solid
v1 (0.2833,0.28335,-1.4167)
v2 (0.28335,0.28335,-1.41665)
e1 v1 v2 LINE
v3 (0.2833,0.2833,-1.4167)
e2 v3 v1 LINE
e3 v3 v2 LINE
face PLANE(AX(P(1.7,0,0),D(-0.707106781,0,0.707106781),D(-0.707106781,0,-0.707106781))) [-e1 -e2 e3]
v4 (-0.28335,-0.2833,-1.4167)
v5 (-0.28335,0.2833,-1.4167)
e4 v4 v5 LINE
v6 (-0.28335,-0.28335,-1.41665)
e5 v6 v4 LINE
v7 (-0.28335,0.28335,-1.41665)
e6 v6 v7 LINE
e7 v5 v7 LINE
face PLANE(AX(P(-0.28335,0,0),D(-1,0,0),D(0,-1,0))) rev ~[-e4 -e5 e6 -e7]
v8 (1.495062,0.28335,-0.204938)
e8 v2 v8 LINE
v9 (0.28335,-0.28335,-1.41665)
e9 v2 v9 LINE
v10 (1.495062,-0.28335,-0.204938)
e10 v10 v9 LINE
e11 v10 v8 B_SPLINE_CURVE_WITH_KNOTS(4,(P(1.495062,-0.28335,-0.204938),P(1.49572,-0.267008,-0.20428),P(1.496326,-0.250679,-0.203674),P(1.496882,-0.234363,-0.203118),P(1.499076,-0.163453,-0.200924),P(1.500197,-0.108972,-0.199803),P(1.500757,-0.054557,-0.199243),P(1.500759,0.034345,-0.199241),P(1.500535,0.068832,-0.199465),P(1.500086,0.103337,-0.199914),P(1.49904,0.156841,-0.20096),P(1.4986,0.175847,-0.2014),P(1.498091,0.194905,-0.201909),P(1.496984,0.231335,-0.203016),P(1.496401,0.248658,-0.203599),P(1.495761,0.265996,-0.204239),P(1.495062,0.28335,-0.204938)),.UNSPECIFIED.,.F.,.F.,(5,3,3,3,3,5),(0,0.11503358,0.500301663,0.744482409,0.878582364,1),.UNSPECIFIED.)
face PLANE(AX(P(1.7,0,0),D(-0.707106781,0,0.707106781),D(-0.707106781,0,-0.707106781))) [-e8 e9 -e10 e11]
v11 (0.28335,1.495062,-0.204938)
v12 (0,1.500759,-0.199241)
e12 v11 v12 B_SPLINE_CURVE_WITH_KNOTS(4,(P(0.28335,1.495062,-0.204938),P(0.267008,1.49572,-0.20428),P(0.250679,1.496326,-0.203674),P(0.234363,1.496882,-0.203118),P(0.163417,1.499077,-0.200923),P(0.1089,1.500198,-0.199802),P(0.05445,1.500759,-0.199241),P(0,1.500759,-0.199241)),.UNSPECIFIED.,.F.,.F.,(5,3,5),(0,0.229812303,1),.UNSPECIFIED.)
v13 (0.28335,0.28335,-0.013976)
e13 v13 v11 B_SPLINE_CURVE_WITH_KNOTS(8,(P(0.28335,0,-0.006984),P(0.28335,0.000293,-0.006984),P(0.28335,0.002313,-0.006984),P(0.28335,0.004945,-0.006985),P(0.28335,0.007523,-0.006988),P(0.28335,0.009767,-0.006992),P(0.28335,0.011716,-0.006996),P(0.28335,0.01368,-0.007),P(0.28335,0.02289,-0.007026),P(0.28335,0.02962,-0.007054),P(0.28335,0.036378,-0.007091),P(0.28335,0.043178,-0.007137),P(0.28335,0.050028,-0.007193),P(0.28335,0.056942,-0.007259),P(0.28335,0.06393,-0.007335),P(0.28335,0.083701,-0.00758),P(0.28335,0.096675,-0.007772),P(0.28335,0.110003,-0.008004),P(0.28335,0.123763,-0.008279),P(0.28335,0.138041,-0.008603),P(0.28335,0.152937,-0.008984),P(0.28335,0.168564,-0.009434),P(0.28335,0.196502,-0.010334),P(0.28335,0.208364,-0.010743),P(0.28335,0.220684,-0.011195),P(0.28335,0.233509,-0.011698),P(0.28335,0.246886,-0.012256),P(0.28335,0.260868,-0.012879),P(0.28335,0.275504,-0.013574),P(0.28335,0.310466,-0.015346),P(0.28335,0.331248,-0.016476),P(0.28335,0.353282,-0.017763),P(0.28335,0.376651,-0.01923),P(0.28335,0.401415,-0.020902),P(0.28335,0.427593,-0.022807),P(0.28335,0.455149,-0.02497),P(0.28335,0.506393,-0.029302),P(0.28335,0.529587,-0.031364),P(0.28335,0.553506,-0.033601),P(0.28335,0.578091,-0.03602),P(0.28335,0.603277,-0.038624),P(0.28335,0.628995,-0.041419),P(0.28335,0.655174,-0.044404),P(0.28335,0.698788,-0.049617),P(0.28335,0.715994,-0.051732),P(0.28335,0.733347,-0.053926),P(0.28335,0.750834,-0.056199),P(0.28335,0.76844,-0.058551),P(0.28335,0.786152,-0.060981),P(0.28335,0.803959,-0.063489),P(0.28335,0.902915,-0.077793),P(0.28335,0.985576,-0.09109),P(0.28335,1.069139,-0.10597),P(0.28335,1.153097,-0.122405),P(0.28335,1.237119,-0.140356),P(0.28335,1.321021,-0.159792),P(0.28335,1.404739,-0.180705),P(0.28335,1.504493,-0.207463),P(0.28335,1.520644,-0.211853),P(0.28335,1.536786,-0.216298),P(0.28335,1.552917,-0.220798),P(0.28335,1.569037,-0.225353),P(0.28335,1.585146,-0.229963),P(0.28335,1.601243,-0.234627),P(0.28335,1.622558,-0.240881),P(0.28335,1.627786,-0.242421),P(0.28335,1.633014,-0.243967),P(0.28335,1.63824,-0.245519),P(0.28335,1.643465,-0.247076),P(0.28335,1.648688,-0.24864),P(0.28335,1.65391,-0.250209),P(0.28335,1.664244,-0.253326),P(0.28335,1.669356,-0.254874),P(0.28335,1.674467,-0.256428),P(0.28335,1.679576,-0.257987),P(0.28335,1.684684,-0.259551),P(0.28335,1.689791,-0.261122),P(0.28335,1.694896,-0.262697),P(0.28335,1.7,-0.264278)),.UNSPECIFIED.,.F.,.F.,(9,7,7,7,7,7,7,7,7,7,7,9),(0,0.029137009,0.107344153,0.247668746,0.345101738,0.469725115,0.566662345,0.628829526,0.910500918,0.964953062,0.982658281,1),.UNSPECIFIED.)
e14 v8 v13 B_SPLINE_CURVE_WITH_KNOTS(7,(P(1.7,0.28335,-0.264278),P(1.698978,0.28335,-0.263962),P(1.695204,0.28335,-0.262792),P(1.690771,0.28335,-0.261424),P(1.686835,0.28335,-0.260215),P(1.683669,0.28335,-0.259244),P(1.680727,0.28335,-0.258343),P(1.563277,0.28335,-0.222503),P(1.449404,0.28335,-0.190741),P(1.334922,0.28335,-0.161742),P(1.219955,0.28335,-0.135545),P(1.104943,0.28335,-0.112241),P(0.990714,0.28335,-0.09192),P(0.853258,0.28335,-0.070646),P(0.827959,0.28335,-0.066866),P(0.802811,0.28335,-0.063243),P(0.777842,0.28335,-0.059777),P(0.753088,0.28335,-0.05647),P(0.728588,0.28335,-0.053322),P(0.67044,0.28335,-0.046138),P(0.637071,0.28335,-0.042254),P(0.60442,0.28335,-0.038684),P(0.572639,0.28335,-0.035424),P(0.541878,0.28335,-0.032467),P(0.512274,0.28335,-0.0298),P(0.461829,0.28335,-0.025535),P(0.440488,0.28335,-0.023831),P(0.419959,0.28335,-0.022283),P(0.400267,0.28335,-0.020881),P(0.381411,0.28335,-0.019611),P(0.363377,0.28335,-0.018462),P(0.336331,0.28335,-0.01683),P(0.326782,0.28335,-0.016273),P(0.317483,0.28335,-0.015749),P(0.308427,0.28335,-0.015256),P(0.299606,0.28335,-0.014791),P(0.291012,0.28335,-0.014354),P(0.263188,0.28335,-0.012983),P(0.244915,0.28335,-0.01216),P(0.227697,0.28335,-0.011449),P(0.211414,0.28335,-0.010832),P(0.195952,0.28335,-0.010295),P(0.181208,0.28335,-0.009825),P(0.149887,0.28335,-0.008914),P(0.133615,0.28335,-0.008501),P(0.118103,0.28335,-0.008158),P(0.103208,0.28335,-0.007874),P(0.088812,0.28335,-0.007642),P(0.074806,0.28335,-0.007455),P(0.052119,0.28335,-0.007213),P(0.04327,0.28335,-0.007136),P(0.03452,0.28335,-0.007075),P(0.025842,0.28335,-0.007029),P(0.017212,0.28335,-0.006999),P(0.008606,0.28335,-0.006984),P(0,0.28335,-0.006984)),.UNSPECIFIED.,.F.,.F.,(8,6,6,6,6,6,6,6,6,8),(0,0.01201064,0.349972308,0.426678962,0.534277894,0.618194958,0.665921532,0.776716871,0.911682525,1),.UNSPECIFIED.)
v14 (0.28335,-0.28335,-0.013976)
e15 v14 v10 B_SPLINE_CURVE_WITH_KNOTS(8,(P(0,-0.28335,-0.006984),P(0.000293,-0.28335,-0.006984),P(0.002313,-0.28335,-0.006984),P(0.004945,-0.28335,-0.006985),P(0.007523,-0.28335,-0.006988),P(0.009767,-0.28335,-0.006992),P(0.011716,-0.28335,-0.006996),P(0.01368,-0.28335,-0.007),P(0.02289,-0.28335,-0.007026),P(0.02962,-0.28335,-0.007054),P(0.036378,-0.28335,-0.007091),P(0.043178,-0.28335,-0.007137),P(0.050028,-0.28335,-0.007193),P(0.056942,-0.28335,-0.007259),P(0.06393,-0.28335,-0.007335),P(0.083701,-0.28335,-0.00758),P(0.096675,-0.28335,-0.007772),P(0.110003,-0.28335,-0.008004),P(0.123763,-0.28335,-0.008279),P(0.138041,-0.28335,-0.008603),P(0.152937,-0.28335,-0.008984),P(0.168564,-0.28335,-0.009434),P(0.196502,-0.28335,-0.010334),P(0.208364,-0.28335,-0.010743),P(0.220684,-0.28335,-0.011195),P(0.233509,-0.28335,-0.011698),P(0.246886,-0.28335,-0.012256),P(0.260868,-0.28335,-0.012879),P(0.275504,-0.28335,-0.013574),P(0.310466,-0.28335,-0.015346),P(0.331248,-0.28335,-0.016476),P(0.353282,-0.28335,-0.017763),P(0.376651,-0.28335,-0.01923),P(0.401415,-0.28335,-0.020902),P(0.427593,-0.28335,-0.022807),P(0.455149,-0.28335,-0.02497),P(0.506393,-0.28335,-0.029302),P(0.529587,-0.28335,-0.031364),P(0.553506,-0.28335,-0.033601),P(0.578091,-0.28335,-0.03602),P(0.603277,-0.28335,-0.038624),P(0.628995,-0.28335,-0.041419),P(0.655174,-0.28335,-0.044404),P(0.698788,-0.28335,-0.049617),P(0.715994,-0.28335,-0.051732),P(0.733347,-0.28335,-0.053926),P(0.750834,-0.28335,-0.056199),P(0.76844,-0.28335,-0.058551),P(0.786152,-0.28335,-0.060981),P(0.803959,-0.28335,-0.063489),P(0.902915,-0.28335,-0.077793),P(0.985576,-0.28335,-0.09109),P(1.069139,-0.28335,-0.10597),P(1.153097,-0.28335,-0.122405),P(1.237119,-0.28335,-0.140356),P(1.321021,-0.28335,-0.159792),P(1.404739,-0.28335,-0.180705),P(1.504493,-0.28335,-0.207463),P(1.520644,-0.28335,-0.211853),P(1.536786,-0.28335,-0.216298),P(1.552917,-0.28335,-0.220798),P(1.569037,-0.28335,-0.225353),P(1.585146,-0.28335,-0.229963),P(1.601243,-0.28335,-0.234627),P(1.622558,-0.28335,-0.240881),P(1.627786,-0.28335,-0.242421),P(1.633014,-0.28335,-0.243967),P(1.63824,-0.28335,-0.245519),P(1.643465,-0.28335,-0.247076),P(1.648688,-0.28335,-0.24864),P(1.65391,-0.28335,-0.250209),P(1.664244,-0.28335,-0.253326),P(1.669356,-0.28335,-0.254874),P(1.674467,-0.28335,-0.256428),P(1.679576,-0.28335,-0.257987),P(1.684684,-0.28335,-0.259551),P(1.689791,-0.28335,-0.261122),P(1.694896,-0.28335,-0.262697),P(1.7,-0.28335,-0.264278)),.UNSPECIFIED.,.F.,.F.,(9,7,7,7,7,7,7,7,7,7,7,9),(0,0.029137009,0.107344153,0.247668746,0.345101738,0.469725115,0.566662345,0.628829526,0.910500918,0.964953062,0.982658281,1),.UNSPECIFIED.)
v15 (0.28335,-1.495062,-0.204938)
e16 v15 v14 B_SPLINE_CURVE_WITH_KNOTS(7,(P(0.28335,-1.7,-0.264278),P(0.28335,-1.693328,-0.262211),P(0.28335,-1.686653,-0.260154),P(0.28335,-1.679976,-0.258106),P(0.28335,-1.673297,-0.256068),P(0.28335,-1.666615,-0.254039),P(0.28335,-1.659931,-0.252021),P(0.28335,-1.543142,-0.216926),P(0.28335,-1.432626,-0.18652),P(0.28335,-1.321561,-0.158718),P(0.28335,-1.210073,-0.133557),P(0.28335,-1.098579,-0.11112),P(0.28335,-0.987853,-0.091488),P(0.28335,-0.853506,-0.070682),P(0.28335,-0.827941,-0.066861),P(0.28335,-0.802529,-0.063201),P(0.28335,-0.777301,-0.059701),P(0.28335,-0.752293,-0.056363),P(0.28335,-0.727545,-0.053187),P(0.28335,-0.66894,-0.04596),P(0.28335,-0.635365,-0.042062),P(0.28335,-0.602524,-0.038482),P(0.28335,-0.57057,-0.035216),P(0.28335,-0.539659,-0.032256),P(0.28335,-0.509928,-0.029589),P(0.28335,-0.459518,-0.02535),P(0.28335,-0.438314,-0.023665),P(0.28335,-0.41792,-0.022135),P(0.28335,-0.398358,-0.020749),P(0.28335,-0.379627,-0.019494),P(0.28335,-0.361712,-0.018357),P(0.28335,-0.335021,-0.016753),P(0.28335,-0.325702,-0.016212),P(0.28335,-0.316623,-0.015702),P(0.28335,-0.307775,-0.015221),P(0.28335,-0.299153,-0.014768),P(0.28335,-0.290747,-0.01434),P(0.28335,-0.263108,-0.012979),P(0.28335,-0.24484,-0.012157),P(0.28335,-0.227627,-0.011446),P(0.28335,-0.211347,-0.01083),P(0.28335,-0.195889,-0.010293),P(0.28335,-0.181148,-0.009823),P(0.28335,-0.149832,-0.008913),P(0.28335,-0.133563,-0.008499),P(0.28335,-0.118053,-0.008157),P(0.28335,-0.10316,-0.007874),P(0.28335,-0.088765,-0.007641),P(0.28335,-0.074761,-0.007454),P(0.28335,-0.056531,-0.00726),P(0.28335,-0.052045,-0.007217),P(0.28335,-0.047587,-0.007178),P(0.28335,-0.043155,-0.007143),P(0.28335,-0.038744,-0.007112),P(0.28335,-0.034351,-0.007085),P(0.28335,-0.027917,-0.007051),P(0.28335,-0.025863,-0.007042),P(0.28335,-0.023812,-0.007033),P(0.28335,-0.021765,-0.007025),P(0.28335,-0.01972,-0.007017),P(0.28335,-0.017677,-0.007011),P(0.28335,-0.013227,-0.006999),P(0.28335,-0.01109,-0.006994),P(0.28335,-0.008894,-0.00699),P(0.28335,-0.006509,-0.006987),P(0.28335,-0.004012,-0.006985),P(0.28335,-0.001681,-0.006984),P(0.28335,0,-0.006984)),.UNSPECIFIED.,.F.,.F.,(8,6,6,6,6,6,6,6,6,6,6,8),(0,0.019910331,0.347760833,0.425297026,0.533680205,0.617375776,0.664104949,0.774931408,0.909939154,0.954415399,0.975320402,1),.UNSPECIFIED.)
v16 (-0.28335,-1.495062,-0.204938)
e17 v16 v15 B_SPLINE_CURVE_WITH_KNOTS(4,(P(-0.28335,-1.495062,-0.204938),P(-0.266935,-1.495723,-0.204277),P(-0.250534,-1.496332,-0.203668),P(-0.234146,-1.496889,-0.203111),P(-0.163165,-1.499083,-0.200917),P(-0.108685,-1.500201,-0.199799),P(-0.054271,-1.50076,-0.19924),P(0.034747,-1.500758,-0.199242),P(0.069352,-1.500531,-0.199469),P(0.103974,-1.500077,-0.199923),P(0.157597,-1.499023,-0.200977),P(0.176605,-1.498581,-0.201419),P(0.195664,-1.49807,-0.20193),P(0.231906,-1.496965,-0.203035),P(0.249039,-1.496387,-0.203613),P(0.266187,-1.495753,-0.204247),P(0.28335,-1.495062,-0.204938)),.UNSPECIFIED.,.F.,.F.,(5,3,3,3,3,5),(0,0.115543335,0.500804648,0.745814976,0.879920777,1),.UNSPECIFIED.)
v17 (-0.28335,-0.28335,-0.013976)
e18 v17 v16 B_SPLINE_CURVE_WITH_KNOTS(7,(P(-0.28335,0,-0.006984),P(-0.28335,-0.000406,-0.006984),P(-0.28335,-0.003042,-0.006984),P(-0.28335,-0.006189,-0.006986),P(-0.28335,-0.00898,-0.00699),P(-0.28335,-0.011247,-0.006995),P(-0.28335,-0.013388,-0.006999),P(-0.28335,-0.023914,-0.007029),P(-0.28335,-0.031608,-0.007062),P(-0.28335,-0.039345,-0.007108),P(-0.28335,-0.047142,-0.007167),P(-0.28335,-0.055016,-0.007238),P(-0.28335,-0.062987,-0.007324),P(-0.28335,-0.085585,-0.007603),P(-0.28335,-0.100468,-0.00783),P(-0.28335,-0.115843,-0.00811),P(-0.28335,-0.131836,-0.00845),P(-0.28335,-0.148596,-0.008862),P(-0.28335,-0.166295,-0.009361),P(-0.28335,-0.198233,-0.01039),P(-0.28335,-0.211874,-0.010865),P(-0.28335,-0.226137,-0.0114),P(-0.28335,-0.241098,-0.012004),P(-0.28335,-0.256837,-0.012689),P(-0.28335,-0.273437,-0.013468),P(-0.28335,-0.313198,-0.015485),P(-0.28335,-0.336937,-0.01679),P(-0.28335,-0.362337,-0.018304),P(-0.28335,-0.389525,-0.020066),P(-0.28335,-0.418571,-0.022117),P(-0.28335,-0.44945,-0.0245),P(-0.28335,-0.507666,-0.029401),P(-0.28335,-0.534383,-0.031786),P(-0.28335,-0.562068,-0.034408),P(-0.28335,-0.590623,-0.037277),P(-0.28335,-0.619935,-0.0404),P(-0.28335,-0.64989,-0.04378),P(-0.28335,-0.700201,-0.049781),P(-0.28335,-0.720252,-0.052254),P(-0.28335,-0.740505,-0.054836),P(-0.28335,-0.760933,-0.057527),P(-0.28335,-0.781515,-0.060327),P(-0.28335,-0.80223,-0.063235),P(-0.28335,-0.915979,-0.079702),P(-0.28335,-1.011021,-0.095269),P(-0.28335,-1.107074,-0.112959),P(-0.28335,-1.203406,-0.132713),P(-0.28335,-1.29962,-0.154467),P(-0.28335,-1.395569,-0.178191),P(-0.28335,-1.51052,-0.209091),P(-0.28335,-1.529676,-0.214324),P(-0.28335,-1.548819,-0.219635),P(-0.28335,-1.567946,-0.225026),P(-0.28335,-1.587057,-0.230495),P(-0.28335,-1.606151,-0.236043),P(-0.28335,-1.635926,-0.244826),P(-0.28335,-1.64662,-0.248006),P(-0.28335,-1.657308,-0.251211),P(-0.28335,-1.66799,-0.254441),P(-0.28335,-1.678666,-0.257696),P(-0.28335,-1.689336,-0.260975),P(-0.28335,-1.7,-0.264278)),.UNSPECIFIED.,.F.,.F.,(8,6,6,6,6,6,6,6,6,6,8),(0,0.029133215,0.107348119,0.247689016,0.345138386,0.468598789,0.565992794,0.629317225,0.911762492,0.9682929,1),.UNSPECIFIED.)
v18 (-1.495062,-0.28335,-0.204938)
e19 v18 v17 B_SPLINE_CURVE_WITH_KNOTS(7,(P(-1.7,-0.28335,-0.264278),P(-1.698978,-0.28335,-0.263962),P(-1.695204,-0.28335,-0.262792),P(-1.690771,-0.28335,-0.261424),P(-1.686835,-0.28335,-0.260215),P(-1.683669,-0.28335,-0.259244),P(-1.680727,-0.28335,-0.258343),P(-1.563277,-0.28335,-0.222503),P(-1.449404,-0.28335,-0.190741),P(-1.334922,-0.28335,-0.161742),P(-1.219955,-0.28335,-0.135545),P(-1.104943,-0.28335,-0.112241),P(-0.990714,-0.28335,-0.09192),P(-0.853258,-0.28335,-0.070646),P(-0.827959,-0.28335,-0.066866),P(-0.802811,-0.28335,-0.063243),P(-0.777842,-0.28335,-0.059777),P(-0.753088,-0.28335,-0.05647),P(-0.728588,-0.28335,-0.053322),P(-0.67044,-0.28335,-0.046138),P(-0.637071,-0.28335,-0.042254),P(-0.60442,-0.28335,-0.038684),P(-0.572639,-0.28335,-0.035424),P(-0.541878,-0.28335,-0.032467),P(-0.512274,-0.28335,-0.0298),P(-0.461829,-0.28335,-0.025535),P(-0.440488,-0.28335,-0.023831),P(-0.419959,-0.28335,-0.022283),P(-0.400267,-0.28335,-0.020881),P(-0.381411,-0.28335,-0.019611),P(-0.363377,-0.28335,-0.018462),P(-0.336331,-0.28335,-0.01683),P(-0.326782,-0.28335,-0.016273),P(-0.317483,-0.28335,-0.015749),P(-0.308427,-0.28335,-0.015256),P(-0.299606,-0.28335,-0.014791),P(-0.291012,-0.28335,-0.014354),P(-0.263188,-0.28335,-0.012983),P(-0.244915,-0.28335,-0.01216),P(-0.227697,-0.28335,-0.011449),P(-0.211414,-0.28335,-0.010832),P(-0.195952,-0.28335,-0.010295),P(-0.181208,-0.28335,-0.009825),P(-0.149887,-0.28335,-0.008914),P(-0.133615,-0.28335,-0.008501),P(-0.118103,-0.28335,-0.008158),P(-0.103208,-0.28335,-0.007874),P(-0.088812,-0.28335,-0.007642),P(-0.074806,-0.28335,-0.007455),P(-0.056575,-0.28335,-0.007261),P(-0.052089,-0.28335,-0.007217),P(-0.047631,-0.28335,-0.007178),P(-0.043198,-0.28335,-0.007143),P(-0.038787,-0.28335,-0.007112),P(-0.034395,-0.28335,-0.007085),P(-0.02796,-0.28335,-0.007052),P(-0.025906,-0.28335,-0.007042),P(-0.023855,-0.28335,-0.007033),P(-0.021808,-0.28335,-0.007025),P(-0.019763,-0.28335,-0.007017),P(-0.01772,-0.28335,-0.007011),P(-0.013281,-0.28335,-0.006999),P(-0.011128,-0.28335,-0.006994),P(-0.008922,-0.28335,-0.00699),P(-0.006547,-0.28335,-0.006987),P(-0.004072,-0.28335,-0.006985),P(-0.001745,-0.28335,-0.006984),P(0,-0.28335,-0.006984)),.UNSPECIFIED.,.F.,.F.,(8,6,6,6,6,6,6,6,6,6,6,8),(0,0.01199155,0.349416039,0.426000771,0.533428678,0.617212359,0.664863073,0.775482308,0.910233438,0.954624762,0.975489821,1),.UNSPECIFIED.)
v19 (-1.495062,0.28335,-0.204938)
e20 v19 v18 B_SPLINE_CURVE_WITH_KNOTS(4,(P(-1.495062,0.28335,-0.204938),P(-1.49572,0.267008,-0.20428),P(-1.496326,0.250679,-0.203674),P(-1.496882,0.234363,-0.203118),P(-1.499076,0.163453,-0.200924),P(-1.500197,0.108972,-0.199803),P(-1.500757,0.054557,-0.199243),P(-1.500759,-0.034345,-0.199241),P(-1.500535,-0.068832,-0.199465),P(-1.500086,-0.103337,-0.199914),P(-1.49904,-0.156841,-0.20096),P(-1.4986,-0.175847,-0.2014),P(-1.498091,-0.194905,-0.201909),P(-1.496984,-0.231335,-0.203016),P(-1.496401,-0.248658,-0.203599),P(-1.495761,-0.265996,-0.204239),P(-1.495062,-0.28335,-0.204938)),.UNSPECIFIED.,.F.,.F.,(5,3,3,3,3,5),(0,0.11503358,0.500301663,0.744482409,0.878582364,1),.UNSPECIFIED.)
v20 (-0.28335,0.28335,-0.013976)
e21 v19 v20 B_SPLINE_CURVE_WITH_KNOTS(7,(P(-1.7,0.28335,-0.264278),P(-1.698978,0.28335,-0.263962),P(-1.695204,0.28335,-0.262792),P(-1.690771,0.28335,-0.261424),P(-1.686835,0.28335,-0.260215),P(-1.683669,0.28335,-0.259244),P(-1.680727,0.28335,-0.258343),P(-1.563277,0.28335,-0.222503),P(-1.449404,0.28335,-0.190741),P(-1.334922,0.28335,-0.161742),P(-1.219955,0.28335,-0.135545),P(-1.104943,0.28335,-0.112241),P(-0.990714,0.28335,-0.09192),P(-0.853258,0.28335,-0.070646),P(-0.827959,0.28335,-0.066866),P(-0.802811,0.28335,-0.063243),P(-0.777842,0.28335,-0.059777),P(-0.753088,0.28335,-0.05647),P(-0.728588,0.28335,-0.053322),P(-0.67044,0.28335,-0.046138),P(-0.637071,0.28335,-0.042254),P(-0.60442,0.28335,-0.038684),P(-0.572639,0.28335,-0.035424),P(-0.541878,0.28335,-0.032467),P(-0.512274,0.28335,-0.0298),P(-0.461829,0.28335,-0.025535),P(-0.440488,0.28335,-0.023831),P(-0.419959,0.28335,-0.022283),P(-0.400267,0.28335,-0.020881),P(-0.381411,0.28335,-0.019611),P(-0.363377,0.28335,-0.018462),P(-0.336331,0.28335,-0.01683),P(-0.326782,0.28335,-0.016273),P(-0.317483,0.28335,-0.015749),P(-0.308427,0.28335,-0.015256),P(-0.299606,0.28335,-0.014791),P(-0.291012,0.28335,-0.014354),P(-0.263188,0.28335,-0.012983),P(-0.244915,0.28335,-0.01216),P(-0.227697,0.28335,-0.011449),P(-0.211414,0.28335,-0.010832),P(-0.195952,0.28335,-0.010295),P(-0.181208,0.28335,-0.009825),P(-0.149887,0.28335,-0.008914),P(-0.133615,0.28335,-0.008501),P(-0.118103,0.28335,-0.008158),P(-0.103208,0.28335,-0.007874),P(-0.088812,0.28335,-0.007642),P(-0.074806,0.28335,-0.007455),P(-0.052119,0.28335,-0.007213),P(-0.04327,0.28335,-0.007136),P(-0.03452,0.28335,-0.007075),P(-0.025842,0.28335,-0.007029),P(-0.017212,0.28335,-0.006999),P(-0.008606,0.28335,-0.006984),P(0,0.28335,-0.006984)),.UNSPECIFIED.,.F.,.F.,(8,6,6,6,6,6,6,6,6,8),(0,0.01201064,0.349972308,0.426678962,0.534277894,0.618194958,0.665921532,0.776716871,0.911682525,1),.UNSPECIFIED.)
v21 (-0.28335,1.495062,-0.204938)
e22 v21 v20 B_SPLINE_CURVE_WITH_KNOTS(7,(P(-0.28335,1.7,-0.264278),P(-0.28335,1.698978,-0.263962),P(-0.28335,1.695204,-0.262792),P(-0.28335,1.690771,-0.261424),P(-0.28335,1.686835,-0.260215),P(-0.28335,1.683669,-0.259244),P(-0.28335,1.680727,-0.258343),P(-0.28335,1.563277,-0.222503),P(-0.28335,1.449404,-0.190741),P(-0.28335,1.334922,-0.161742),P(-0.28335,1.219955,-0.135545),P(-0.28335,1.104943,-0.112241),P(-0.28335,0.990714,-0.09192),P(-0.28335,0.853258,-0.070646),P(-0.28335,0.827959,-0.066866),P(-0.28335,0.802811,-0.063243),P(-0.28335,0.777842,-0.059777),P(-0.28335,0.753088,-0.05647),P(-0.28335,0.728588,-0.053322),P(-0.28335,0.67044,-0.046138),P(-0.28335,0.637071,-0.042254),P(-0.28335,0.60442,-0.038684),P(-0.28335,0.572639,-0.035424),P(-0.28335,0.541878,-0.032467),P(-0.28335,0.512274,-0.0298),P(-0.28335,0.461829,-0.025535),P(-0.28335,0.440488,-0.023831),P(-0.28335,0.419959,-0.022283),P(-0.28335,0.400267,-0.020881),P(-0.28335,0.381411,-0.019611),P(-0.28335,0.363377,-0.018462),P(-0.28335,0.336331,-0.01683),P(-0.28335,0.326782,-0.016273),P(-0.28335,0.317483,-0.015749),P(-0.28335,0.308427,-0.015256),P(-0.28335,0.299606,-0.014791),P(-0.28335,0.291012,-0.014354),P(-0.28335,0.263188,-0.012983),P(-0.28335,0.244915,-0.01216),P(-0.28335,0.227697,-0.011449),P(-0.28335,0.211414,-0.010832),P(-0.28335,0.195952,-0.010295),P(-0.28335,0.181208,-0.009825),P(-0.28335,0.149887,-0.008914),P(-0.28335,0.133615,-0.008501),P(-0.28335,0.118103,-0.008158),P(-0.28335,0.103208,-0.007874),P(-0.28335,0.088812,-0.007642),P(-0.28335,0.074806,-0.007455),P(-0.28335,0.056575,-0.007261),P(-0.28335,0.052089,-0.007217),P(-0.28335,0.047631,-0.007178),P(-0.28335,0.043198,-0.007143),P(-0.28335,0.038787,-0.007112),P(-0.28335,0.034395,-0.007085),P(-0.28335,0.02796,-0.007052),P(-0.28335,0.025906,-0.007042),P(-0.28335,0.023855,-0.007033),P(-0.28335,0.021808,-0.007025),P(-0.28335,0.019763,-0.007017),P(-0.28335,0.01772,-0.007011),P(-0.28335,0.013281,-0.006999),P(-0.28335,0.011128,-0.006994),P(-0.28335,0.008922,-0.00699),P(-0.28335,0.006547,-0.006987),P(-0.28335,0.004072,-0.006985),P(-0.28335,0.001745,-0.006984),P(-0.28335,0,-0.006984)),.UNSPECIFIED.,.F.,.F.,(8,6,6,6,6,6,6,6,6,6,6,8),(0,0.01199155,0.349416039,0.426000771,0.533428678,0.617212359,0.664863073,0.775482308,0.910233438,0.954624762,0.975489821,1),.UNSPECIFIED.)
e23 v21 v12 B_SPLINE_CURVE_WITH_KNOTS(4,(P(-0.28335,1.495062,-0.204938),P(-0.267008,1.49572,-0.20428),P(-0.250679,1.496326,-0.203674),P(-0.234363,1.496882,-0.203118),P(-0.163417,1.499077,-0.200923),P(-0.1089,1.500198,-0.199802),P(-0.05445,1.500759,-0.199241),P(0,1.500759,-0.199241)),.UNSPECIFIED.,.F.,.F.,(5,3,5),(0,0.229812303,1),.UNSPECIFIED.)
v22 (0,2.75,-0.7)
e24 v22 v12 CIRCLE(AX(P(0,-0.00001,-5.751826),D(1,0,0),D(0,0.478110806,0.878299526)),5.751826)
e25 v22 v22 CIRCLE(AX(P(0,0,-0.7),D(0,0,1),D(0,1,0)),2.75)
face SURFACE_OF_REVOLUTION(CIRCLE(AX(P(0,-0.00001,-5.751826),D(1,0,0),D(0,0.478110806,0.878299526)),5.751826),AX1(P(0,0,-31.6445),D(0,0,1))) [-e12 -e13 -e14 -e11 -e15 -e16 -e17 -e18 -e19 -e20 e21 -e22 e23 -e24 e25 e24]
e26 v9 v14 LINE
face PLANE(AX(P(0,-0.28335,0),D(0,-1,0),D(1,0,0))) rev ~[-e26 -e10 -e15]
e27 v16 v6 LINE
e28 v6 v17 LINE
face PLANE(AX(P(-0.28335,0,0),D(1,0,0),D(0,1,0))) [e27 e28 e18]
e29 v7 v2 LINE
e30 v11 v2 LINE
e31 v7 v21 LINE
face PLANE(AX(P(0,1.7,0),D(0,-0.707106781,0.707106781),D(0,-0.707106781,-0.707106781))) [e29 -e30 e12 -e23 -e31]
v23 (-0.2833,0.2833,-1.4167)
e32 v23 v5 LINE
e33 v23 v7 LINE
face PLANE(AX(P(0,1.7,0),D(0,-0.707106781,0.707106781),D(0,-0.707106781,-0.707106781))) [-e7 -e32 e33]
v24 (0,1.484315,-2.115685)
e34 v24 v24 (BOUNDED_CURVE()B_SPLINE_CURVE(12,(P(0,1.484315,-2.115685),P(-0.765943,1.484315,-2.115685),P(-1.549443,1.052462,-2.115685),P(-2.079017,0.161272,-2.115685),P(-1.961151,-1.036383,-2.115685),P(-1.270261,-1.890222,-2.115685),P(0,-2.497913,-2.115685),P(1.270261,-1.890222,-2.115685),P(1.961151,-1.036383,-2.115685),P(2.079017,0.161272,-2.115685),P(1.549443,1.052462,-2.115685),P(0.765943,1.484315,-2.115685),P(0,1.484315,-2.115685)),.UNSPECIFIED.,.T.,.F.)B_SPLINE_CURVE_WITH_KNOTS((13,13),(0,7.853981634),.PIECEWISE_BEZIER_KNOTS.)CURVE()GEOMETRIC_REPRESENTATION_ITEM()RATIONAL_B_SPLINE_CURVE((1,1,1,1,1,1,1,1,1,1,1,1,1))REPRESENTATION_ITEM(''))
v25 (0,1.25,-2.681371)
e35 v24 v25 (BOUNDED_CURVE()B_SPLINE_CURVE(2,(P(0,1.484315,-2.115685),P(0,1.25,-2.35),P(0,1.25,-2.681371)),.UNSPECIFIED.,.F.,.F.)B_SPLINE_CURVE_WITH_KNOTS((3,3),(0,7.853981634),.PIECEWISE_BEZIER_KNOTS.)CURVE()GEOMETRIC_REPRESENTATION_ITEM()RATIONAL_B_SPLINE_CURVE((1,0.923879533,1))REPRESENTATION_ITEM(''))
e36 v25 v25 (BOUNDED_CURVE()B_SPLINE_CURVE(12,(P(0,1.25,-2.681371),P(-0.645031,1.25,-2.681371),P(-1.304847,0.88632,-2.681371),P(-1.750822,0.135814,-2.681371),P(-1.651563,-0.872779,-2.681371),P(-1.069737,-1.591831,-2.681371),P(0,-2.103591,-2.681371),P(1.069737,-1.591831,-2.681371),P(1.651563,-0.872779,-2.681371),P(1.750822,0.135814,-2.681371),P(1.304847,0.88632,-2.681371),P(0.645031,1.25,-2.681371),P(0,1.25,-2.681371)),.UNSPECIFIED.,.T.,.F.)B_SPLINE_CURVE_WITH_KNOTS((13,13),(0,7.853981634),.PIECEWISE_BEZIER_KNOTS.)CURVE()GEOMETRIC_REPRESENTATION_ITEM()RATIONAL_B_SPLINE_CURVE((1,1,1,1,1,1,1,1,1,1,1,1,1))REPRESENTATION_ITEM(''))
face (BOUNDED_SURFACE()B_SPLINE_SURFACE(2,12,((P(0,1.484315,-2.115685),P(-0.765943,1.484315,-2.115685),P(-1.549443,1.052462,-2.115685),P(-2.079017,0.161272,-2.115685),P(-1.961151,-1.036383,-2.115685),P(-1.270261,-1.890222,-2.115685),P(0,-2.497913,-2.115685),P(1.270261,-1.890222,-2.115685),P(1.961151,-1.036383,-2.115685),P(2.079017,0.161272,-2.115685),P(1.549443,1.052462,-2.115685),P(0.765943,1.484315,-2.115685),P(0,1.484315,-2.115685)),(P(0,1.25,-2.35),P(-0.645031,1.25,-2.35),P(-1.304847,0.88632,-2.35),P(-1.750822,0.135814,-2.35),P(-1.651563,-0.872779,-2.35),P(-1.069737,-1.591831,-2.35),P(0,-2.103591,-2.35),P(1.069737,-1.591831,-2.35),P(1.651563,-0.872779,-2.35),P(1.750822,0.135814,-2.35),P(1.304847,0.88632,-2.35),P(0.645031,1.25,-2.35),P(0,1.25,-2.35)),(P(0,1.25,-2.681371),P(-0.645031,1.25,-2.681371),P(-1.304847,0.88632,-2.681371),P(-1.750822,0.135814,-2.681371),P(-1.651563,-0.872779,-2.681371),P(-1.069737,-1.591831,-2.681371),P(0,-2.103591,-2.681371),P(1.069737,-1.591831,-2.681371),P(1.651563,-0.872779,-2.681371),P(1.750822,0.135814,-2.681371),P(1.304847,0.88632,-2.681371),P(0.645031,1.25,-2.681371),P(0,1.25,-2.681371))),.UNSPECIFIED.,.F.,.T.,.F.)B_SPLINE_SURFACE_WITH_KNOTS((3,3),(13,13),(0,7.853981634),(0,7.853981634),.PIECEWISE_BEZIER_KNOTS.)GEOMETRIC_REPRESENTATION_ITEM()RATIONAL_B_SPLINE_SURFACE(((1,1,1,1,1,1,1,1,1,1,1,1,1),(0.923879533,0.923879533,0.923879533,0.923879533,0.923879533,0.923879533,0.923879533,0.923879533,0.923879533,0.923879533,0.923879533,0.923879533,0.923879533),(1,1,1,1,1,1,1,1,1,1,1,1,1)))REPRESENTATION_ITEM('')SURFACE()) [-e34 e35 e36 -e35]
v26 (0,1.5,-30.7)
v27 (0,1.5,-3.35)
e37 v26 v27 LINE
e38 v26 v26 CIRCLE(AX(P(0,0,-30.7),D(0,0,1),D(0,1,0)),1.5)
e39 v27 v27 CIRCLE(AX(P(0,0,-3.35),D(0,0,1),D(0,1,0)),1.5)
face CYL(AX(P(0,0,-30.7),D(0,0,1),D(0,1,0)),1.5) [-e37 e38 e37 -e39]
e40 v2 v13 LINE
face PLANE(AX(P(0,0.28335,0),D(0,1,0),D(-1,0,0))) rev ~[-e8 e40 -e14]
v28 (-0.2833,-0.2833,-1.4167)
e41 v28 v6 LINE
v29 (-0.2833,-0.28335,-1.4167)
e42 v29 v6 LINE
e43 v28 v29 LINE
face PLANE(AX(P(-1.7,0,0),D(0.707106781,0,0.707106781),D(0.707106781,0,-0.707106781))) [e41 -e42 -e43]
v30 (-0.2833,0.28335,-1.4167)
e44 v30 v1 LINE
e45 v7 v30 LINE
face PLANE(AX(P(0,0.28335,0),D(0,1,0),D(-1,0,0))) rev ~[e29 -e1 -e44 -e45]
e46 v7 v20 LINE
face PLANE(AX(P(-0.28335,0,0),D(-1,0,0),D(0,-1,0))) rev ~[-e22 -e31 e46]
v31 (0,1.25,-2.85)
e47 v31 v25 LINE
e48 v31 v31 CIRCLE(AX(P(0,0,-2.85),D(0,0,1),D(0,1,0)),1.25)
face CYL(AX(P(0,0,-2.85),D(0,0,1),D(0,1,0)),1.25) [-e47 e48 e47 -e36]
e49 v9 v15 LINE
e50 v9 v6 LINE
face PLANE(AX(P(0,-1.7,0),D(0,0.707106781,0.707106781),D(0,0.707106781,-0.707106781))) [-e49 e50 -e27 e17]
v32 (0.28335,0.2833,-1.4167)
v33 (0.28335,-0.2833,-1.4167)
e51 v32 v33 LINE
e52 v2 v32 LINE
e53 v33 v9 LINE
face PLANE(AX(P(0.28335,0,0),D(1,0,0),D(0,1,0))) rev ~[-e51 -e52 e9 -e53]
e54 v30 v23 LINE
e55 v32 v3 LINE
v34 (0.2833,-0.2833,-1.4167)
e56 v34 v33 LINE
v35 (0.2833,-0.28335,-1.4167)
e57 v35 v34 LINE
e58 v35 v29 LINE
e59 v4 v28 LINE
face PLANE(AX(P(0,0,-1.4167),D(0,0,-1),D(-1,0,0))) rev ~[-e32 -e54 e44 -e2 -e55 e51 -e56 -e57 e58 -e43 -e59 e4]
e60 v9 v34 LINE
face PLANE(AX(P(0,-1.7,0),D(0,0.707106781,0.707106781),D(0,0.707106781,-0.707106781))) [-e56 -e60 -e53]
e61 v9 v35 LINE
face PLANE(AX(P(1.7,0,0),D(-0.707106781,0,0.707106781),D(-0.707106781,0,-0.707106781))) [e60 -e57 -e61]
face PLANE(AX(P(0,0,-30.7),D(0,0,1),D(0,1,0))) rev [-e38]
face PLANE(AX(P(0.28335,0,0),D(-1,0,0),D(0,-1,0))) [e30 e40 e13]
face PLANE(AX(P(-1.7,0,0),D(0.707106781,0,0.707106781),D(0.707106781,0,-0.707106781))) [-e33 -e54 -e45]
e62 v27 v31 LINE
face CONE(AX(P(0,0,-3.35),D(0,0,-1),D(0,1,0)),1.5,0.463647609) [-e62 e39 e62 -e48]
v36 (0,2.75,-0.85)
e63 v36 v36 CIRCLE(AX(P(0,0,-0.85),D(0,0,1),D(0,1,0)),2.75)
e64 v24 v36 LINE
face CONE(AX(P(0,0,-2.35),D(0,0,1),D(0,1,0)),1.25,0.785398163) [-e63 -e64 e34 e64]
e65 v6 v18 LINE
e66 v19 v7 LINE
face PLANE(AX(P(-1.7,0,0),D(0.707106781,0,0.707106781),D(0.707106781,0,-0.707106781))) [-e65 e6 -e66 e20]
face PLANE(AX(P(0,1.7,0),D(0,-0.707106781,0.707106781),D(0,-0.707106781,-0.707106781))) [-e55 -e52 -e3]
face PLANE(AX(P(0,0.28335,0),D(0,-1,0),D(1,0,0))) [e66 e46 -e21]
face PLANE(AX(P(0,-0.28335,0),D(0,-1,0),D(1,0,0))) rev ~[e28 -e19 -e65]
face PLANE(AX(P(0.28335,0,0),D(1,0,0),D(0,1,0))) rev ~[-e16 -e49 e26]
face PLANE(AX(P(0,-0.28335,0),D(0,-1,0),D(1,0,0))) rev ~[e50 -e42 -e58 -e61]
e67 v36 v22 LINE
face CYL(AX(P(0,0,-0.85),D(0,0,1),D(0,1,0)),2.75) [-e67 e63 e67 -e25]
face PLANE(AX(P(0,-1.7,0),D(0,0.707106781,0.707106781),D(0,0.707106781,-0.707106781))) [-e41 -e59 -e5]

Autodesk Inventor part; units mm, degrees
ref_plane "WorkPlane2" through (0, 0, 0) normal (0, 0, 1) x (1, 0, 0)
sketch "Sketch1" plane through (0, 0, 0) normal (1, 0, 0) x (0, 1, 0)
  point P0 (0, 0)
ref_plane "Work Plane2" through (0, 0, -2.35) normal (0, 0, 1) x (1, 0, 0)
ref_plane "WorkPlane3" through (0, 0, 7) normal (0, 0, 1) x (1, 0, 0)
sketch "Sketch2" plane through (0, 0, 0) normal (0, 1, 0) x (-1, 0, 0)
  point P0 (0, 0)
sketch "Sketch3" plane through (0, 0, 0) normal (1, 0, 0) x (0, 1, 0)
  line L0 (1.5, -3.35) -> (1.25, -2.85)
  line L1 (1.5, -30.7) -> (1.5, -3.35)
  line L2 (0, -30.7) -> (1.5, -30.7)
  line L3 (0, 0) -> (0, -30.7)
  arc A0 (2.75, -0.7) -> (0, 0) centre (0, -5.7518) ccw
  line L4 (2.75, -0.85) -> (2.75, -0.7)
  line L5 (1.25, -2.35) -> (2.75, -0.85)
  line L6 (1.25, -2.85) -> (1.25, -2.35)
  line L7 (0, -31.6445) -> (0, 31.6445) construction
  line L8 (0, -31.6445) -> (0, 31.6445)
  line L9 (0, -44.3023) -> (0, 44.3023) projected
  dimension "d2" = 1.5
  dimension "d4" = 1.25
  dimension "d6" = 0.5
  dimension "d8" = 1.65
  dimension "d10" = 135
  dimension "d12" = 2.75
  dimension "d14" = 0
  dimension "d16" = 0.7
  dimension "d18" = 30
  dimension "d22" = 27.35
revolve "Revolution1" add sketch "Sketch3" angle 360 about axis through (0, 0, -31.6445) along (0, 0, 1)
fillet "Fillet1" radius 0.8 1 edges at (0, -1.25, -2.35)
sketch "Sketch4" plane through (0, 0, 0) normal (0, 1, 0) x (-1, 0, 0)
  line L0 (0, 0) -> (-1.7, 0)
  line L1 (0, -1.4167) -> (0, 0)
  line L2 (-1.7, 0) -> (-0.2833, -1.4167)
  line L3 (0, -6.9021) -> (0, 1.1504) projected
  arc A0 (2.75, -0.7) -> (-2.75, -0.7) centre (0, -5.7518) ccw projected
  line L4 (0, -1.4167) -> (-0.2833, -1.4167)
  point P0 (0, -1.7)
  dimension "d30" = 45
  dimension "d33" = 3.4
  dimension "d34" = 0.2833
  dimension "d35" = 90
extrude "Extrusion1" cut sketch "Sketch4" along normal mid plane 0.5667
pattern_circular "PolarArray1" count 4 over 360 about axis through (0, 0, -10) along (0, 0, 1) of "Extrusion1"
thread "Thread1" size "M3x0.5" class "6g" standard "ISO Metric profile" full length
ref_plane "MSC_PF1" through (0, 0, 0) normal (1, 0, 0) x (0, 1, 0)
ref_plane "MSC_PT1" through (0, 2.75, -0.85) normal (0, 0, -1) x (-1, 0, 0)
equation "\"d2\" = 0.5 * NND"
equation "\"d4\" = 0.5 * msp_mdtds"
equation "\"d6\" = msp_x"
equation "\"d8\" = ParK"
equation "\"d12\" = 0.5 * Dk"
equation "\"d16\" = ParF"
equation "\"d18\" = NLG"
equation "\"d22\" = b"
equation "\"d24\" = r"
equation "\"d33\" = M"
equation "\"d34\" = 0.0833333 * M"
equation "\"d31\" = 0.166667 * M"
equation "\"d39\" = b"
equation "\"PTC\" = 0.5"
equation "\"msp_x\" = PTC"
equation "\"NLG\" = 30"
equation "\"NND\" = 3"
equation "\"ParK\" = 1.65"
equation "\"r\" = 0.8"
equation "\"msp_mdtds\" = NND - PTC"
equation "\"b\" = 27.35"
equation "\"Dk\" = 5.5"
equation "\"ParF\" = 0.7"
equation "\"M\" = 3.4"
equation "\"ParA\" = 1"
equation "\"THREADDIA\" = NND"
equation "\"TEMPLATE\" = 1.2345"
properties part number "ISO 7047 - M3x30 - 4.8 - H" material "Steel"
